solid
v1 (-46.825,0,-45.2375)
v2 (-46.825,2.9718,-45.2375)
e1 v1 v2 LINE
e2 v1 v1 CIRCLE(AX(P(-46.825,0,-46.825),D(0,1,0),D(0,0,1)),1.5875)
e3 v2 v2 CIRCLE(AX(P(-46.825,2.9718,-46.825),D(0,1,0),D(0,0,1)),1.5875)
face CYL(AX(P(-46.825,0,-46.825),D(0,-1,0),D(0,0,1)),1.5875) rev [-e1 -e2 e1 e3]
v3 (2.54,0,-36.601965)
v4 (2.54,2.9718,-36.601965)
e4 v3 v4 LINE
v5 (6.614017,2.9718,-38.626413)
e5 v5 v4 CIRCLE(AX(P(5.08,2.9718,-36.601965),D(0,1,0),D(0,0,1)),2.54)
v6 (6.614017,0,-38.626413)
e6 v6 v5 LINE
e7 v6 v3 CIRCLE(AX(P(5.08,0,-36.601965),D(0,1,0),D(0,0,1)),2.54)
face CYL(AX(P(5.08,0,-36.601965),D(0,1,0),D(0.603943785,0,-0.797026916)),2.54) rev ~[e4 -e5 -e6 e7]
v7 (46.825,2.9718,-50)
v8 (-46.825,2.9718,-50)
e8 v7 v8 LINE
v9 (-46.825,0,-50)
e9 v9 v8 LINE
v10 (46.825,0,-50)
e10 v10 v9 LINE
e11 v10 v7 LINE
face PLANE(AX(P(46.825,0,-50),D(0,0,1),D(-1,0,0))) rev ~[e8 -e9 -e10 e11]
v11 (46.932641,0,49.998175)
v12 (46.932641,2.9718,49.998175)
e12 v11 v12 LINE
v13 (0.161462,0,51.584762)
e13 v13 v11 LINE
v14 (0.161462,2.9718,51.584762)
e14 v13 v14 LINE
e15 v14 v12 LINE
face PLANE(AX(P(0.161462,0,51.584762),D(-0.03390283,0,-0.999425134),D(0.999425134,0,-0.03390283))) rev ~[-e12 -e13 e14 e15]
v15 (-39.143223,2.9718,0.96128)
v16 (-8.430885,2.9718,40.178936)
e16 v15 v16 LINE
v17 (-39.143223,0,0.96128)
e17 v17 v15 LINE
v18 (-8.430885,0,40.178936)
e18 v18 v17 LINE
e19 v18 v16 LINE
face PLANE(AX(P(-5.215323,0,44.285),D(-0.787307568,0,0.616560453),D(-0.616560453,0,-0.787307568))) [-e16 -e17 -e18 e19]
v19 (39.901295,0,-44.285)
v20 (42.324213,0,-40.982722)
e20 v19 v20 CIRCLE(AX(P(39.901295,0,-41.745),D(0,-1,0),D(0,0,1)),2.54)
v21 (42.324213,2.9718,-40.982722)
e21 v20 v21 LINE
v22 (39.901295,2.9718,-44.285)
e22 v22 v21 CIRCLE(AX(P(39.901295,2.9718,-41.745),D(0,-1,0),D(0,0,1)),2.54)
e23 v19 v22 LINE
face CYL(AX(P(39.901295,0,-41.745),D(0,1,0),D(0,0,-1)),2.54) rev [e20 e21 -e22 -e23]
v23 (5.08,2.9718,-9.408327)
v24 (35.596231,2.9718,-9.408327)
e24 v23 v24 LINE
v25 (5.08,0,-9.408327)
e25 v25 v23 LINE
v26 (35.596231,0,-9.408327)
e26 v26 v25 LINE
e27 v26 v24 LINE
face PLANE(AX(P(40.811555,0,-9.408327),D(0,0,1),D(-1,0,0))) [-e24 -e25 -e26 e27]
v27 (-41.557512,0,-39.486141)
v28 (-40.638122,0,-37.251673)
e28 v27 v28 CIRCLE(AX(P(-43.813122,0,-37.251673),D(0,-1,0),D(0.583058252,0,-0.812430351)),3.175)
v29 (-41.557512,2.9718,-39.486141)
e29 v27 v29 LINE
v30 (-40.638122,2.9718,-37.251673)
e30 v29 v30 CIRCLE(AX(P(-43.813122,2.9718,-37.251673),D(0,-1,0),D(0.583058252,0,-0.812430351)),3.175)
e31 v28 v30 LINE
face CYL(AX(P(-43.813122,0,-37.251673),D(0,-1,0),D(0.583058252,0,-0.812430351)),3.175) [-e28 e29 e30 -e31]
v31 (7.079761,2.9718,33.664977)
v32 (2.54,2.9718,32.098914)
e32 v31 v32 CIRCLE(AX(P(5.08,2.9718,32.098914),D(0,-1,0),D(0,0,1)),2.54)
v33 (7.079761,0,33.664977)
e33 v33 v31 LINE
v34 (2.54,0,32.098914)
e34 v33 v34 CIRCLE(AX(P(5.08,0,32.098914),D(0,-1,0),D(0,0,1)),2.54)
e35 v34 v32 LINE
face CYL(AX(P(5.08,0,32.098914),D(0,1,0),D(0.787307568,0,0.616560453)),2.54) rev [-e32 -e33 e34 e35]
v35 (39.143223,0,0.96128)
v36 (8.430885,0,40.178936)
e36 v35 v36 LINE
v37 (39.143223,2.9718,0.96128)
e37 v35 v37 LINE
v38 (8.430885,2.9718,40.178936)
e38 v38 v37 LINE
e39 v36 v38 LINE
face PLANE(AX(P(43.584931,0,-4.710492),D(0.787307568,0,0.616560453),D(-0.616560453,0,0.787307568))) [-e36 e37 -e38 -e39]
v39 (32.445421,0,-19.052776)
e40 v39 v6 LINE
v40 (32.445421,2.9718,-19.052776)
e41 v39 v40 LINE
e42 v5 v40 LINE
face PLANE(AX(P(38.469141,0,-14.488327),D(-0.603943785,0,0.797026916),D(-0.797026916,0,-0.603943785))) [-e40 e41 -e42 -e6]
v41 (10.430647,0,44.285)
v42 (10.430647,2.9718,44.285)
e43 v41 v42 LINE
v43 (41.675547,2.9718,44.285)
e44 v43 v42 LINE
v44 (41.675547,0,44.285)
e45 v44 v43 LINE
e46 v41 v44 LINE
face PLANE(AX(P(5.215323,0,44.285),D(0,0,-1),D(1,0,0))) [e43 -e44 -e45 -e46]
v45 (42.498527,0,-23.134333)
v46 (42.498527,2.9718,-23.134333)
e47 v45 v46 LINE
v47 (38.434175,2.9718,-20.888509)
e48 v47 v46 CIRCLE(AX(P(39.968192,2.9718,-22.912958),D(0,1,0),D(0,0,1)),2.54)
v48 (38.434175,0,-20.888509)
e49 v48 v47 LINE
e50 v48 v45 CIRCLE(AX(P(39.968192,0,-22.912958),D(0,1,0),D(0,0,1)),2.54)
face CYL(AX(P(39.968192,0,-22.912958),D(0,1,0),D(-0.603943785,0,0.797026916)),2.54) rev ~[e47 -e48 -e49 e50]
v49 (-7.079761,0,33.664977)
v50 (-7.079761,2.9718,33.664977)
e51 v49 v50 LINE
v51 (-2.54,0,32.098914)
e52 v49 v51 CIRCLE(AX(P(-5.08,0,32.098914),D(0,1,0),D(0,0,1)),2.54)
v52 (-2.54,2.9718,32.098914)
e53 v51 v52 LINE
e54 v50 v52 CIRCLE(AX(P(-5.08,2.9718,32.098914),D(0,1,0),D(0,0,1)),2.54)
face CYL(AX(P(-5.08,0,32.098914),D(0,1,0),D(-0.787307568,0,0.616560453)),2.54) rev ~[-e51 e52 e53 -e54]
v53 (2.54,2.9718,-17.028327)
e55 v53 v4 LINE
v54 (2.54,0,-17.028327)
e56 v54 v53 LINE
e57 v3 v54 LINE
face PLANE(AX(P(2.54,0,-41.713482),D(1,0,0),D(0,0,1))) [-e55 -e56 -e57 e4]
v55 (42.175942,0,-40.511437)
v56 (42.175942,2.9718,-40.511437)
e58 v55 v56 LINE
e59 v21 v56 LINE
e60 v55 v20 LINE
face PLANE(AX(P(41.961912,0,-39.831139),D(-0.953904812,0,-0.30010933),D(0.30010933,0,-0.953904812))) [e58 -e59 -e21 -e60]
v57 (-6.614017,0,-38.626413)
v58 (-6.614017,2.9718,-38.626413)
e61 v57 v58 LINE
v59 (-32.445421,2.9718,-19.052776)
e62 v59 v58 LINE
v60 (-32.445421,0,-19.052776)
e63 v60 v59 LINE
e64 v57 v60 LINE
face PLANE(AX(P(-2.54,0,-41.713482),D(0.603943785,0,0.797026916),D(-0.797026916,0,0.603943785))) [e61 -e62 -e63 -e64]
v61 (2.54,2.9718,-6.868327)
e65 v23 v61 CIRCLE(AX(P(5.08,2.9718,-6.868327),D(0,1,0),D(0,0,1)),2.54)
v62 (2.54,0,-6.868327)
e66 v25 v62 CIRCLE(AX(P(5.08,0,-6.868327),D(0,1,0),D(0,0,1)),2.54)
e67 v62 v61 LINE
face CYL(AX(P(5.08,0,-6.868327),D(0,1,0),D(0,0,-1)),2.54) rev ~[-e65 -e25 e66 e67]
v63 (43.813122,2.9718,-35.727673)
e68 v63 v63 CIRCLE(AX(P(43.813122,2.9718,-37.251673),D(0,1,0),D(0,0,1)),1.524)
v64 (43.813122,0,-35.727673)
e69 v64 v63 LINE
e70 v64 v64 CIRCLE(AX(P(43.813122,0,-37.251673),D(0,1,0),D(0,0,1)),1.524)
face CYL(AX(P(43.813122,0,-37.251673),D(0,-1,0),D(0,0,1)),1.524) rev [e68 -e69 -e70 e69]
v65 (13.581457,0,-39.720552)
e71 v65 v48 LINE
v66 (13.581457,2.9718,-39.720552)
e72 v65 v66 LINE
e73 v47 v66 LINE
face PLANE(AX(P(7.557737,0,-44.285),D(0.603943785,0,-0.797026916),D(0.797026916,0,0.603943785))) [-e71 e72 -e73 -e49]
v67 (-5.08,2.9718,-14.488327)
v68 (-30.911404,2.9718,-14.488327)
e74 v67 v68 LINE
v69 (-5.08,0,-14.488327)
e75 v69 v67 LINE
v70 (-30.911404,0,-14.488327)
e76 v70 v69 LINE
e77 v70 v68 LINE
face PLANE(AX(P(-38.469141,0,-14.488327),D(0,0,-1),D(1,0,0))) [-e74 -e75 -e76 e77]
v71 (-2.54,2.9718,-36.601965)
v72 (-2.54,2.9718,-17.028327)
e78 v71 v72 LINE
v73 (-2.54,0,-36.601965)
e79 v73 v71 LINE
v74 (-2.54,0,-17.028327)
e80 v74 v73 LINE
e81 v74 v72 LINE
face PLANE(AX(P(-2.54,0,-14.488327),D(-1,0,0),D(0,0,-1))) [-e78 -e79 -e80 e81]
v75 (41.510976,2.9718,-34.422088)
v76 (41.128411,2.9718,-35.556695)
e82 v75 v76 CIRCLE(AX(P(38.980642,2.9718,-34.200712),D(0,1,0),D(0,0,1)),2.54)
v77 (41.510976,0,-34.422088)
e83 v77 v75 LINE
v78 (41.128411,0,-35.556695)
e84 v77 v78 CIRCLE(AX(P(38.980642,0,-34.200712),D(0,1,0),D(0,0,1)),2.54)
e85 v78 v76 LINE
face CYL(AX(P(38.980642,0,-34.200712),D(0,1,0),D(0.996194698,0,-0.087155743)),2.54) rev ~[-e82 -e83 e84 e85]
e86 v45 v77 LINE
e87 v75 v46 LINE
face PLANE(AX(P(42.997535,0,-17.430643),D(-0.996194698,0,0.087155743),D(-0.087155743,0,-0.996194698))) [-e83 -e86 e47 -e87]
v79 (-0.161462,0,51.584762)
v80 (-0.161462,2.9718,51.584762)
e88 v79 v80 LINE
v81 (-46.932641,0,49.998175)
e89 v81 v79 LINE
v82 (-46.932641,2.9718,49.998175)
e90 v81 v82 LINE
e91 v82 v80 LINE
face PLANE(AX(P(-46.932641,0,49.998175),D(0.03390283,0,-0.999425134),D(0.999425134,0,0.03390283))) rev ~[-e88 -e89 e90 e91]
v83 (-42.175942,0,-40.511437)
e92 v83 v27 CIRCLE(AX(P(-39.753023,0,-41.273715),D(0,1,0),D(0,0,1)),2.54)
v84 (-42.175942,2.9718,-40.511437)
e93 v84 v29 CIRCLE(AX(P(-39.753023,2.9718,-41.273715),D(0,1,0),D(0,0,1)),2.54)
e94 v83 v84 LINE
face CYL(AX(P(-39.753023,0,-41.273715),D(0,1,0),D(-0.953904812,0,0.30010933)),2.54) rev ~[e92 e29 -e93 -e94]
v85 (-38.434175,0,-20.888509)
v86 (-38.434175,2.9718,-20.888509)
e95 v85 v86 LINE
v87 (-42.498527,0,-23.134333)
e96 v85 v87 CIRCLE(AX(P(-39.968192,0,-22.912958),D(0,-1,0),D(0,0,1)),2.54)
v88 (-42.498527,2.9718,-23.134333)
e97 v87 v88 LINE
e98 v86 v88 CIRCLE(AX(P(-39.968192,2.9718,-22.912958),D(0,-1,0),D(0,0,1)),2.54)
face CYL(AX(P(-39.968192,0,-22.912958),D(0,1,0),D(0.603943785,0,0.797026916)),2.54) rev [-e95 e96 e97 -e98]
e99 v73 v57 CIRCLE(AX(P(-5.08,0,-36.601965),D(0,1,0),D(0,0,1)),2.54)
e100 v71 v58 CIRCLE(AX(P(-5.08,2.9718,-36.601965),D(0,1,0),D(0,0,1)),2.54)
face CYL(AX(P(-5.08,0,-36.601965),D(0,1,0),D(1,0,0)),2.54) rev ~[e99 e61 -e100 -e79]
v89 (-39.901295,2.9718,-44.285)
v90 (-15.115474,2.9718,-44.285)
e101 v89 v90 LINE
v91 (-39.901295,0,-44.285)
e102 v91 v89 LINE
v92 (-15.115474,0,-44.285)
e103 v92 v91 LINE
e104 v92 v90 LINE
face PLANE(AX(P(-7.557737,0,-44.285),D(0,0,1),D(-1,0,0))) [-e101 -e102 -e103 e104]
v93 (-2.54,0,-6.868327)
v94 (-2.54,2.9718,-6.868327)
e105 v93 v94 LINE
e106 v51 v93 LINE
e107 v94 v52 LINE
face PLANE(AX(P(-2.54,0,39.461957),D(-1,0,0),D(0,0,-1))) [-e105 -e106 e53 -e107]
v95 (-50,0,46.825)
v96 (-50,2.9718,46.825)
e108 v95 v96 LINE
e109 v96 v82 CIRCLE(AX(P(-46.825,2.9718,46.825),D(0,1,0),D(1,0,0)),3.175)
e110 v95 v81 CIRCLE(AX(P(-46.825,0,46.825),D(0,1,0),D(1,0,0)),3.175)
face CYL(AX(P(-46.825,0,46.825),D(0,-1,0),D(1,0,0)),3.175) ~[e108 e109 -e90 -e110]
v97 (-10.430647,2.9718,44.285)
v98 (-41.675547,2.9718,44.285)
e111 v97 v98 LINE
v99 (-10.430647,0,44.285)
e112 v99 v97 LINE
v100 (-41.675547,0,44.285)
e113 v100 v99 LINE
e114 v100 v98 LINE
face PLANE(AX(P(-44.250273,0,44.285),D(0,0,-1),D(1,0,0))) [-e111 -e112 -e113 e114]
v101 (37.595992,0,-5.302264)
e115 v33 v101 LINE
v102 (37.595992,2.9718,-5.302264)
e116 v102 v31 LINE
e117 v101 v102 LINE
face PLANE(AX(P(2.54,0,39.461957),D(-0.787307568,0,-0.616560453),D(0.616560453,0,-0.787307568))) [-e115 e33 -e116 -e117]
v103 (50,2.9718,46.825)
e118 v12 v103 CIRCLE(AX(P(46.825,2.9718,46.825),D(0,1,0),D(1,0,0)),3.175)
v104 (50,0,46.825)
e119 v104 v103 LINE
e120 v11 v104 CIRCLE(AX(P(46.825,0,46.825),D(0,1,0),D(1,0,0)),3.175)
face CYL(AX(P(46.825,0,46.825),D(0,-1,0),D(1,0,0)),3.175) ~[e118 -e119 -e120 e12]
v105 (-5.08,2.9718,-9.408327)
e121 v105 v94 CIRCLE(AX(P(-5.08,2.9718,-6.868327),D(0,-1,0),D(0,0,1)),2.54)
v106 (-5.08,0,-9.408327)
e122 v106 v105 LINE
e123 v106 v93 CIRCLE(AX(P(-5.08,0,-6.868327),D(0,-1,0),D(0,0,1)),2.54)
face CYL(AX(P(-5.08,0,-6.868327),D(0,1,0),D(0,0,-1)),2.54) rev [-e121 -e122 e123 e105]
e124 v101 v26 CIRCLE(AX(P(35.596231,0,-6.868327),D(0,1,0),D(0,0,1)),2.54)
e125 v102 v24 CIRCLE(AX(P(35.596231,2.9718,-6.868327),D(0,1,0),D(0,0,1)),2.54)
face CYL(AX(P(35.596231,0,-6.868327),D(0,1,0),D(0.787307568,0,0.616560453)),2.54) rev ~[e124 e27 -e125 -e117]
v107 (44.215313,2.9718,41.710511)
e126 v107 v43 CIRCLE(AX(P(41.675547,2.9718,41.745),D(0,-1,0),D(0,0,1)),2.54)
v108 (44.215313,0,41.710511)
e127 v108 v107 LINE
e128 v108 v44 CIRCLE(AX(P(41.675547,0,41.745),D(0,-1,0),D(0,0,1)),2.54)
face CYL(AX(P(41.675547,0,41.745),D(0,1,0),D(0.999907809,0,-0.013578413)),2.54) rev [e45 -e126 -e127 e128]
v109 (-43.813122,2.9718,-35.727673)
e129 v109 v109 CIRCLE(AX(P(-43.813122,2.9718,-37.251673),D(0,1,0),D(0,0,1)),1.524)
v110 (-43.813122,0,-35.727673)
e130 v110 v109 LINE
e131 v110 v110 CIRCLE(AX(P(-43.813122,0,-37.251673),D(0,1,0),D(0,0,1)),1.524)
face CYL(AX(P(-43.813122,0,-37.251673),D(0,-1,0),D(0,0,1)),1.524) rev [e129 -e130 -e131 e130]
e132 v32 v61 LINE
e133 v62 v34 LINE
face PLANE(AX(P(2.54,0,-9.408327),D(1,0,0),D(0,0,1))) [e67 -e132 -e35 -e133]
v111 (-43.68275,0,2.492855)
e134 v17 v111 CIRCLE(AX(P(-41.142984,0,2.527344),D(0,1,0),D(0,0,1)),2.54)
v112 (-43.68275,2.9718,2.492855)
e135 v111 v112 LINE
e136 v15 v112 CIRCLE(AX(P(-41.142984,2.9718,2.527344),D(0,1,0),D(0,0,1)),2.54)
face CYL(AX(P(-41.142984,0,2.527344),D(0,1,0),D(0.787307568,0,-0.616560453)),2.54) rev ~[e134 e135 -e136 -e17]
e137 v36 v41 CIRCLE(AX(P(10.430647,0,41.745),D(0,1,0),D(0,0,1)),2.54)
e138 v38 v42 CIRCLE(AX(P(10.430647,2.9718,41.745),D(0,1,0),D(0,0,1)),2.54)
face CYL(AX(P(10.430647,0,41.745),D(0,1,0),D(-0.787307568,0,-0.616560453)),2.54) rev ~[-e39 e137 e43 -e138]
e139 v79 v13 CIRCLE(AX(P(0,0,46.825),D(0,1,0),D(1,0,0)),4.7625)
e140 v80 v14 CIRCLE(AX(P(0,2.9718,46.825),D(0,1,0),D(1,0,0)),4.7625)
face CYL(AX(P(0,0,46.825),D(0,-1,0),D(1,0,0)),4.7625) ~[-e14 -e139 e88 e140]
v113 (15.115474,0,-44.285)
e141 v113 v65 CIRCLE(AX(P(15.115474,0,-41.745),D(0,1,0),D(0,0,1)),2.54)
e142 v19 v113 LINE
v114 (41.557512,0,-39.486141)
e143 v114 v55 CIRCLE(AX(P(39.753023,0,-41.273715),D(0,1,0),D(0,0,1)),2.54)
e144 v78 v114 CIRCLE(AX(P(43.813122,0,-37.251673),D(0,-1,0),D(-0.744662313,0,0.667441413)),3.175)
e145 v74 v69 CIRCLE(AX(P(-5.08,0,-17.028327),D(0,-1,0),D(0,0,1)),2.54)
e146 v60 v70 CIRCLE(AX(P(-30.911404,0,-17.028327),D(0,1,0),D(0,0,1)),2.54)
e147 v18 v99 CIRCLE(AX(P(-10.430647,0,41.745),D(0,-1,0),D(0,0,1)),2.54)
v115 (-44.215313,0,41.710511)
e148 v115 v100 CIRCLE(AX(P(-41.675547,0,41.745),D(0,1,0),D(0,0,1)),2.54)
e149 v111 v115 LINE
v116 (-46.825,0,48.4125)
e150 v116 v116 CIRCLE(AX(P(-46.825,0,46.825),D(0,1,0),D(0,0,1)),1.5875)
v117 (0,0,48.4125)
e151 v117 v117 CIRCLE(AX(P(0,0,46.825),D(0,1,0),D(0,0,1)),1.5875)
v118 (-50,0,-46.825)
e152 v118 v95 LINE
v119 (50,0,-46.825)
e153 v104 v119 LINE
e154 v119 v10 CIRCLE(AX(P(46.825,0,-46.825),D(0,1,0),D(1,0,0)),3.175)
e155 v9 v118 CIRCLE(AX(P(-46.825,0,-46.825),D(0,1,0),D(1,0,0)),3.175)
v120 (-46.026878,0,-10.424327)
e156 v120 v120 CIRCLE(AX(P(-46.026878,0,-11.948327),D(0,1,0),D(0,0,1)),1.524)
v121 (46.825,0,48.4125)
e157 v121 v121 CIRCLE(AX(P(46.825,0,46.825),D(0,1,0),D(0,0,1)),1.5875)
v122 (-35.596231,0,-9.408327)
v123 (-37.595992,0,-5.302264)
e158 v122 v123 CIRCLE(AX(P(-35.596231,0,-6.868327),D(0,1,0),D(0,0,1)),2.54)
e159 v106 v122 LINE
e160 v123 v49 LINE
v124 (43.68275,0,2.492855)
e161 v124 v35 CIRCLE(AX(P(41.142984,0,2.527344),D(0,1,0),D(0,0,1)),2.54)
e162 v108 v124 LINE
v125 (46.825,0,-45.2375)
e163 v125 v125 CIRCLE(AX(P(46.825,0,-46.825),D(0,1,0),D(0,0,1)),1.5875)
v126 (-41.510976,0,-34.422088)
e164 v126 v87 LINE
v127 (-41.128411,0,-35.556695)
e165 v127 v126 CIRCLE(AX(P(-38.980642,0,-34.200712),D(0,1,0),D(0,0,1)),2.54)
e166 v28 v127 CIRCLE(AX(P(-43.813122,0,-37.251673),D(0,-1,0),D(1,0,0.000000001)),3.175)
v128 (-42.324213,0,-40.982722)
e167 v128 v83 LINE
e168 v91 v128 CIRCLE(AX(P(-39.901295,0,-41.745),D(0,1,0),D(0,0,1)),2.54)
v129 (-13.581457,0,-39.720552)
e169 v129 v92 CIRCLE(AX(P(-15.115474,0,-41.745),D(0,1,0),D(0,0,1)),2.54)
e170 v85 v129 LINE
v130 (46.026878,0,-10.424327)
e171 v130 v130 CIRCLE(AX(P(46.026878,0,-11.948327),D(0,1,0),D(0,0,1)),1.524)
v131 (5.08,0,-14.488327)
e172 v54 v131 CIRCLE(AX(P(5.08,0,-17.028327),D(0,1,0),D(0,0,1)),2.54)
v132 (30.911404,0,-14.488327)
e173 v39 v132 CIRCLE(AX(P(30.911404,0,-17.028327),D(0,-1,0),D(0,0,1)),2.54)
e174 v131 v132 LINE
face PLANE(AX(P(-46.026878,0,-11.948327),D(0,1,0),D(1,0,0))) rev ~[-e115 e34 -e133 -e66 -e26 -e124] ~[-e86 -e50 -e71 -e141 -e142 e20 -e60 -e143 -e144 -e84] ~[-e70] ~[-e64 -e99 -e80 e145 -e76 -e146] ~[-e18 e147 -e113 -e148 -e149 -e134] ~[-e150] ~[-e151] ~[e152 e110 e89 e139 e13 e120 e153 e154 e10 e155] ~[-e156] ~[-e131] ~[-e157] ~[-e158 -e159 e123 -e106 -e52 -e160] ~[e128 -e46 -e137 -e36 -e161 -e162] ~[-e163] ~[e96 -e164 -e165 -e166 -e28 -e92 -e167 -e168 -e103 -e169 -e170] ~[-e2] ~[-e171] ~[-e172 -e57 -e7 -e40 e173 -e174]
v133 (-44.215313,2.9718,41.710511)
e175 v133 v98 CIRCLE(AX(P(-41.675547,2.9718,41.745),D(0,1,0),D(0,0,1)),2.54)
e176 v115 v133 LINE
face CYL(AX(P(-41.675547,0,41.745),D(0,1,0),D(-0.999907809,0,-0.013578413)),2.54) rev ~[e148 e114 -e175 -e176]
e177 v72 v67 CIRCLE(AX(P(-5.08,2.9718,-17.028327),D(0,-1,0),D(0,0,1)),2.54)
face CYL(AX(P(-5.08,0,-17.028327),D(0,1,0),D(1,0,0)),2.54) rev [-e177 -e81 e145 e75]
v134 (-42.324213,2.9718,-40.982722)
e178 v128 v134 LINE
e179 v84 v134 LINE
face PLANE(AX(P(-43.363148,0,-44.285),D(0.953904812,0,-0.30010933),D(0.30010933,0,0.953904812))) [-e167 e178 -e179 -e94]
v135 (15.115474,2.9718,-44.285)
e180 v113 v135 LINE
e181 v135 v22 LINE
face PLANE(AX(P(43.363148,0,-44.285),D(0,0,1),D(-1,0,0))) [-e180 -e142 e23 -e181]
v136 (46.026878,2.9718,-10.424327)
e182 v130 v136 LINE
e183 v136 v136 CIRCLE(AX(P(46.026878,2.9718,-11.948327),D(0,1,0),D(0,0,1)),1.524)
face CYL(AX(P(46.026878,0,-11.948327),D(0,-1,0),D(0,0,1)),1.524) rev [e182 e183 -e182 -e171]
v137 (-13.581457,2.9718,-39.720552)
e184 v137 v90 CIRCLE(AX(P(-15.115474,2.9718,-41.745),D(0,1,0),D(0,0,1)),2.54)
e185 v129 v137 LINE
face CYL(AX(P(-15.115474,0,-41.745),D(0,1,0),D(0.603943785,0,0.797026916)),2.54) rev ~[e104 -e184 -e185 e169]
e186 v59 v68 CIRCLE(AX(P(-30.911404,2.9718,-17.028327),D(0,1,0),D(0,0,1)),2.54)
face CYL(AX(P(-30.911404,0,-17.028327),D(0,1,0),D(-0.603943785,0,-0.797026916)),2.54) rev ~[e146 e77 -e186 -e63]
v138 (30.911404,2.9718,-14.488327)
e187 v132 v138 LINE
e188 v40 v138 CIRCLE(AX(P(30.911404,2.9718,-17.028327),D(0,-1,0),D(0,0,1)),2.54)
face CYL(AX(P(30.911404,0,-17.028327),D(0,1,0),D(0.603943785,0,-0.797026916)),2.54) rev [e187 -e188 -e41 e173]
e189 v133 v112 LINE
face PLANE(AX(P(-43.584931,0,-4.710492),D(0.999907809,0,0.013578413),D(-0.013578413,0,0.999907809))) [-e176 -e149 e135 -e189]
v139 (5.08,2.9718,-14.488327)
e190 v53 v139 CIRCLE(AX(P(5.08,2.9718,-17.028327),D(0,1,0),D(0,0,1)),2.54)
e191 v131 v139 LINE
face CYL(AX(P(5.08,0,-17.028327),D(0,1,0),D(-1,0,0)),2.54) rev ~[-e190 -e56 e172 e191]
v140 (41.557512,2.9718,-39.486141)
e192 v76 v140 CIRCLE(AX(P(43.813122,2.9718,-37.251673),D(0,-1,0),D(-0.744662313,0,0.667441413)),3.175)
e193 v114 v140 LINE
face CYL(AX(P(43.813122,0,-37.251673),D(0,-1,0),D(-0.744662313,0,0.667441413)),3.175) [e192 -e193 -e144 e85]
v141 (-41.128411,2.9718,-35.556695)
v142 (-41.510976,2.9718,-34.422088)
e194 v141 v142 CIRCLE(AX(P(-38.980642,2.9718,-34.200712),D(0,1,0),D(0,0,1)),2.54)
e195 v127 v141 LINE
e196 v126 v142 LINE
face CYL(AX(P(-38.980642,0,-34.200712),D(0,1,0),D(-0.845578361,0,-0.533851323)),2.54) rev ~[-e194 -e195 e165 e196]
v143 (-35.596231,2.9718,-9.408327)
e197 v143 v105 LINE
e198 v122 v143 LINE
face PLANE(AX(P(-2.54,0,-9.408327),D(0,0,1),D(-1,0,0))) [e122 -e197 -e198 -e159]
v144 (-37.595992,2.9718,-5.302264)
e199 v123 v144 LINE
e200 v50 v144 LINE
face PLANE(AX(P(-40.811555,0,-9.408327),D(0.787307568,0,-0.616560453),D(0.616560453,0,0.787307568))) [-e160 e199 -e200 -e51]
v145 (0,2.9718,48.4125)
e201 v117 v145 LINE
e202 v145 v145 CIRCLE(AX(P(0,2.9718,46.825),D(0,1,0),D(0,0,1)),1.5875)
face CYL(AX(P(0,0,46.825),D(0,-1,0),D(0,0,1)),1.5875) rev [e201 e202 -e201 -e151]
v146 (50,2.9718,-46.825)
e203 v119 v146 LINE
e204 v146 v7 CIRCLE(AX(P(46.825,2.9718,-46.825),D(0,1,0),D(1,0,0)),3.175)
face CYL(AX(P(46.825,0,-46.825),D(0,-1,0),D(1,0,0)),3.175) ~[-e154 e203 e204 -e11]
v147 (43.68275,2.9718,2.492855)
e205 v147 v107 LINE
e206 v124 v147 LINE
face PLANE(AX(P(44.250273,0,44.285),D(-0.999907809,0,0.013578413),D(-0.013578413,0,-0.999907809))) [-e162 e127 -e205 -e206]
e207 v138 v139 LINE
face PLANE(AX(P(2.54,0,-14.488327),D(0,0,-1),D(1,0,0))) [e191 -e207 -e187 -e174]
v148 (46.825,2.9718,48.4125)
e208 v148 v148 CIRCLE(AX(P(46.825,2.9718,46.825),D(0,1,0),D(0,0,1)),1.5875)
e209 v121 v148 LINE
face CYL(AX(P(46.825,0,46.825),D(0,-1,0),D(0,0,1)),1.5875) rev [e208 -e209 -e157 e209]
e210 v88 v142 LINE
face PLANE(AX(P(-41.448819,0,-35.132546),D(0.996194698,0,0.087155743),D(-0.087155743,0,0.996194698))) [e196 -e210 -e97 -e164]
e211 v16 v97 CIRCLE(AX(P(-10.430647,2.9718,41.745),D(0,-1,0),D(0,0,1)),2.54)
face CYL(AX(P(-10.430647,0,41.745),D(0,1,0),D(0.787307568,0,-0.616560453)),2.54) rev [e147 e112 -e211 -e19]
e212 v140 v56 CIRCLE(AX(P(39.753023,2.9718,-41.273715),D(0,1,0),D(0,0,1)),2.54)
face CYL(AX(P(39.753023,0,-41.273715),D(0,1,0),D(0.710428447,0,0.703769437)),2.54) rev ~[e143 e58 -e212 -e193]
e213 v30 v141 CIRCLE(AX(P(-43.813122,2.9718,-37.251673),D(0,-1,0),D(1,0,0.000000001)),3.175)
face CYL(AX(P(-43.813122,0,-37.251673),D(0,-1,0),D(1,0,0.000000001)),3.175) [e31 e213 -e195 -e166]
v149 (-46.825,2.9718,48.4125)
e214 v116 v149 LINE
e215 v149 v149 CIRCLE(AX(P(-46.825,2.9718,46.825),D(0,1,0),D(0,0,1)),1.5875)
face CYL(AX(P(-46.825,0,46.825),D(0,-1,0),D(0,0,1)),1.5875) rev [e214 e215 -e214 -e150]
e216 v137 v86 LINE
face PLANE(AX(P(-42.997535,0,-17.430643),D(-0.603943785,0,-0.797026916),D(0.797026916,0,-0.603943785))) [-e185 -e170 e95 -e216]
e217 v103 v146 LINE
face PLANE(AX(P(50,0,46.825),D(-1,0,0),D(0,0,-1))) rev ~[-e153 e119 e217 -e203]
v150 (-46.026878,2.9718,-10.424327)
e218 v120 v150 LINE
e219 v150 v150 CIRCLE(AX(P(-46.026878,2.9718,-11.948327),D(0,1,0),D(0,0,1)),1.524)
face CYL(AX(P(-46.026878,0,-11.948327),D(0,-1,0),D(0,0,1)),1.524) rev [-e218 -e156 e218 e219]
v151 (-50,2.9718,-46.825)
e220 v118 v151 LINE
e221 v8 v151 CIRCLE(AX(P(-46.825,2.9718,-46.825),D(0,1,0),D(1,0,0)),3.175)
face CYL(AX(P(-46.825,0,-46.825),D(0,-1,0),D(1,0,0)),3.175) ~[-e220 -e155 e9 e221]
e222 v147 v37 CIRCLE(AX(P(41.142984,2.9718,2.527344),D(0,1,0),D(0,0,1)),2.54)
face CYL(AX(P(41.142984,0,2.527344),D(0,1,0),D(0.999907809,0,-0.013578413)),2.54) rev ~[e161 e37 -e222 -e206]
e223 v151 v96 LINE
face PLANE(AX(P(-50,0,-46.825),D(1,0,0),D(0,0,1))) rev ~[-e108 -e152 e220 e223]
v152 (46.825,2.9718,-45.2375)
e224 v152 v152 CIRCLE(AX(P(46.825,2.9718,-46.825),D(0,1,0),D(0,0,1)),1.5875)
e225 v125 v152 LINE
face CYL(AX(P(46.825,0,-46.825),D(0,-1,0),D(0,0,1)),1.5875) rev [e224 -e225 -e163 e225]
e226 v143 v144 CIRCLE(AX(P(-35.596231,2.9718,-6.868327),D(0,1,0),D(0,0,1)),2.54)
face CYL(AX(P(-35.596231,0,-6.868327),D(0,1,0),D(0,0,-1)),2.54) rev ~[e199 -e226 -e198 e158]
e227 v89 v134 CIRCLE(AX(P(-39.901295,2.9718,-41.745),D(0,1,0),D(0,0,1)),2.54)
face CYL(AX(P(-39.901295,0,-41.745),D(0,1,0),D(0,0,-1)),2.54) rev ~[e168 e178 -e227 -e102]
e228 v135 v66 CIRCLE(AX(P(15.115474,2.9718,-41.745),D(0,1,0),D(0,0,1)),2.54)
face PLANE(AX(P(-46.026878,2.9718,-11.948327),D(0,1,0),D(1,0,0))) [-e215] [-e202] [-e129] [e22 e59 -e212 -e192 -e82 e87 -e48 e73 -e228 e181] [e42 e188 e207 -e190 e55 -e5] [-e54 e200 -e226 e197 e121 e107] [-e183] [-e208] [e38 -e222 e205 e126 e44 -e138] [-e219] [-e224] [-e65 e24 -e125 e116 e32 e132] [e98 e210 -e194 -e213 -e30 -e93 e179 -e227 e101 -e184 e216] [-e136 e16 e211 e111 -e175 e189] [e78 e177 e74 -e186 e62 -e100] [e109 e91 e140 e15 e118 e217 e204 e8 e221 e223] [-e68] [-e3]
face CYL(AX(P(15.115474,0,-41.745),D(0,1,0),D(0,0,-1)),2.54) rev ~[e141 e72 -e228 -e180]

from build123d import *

# Parameters (mm, degrees)
SKETCH2_R           = 3.175
SKETCH2_R_2         = 1.5875
SKETCH2_R_3         = 4.7625
SKETCH2_R_4         = 1.524
BOSS_EXTRUDE2_DEPTH = 2.9718
CUT_EXTRUDE1_DEPTH  = 72.903419609
FILLET1_R           = 2.54


with BuildPart() as part:
    # Sketch2 → Boss-Extrude2 (new body)
    # profile 1 of 10: a face of its own
    with BuildSketch(Plane(origin=(0, 0, 0), x_dir=(1, 0, 0), z_dir=(0, 1, 0))):
        with BuildLine():
            ThreePointArc((4.7625, -46.825), (3.424205755, -50.135018308), (0.161462226, -51.5847622))
            Line((0.161462226, -51.5847622), (46.932641484, -49.9981748))
            ThreePointArc((46.932641484, -49.9981748), (44.542196163, -44.618321128), (50, -46.825))
            Line((50, -46.825), (50, 46.825))
            ThreePointArc((50, 46.825), (44.57993597, 44.57993597), (46.825, 50))
            Line((46.825, 50), (-46.825, 50))
            ThreePointArc((-46.825, 50), (-44.57993597, 49.07006403), (-43.65, 46.825))
            ThreePointArc((-43.65, 46.825), (-46.825, 43.65), (-50, 46.825))
            Line((-50, 46.825), (-50, -46.825))
            ThreePointArc((-50, -46.825), (-46.825, -43.65), (-43.65, -46.825))
            ThreePointArc((-43.65, -46.825), (-44.618321128, -49.107803837), (-46.932641484, -49.9981748))
            Line((-46.932641484, -49.9981748), (-0.161462226, -51.5847622))
            ThreePointArc((-0.161462226, -51.5847622), (-3.310018308, -43.400794245), (4.7625, -46.825))
        make_face()
        with Locations((-46.026877933, 11.948327334)):
            Circle(SKETCH2_R, mode=Mode.SUBTRACT)
        with Locations((-43.813122067, 37.251672666)):
            Circle(SKETCH2_R, mode=Mode.SUBTRACT)
        with Locations((46.026877933, 11.948327334)):
            Circle(SKETCH2_R, mode=Mode.SUBTRACT)
        with Locations((43.813122067, 37.251672666)):
            Circle(SKETCH2_R, mode=Mode.SUBTRACT)
    # profile 2 of 10: a face of its own
    with BuildSketch(Plane(origin=(0, 0, 0), x_dir=(1, 0, 0), z_dir=(0, 1, 0))):
        with Locations((-46.825, -46.825)):
            Circle(SKETCH2_R)
        with Locations(Location((-46.825, -46.825, 0), (0, 0, 270))):
            Circle(SKETCH2_R_2, mode=Mode.SUBTRACT)
    # profile 3 of 10: a face of its own
    with BuildSketch(Plane(origin=(0, 0, 0), x_dir=(1, 0, 0), z_dir=(0, 1, 0))):
        with Locations((0, -46.825)):
            Circle(SKETCH2_R_3)
        with Locations(Location((0, -46.825, 0), (0, 0, 270))):
            Circle(SKETCH2_R_2, mode=Mode.SUBTRACT)
    # profile 4 of 10: a face of its own
    with BuildSketch(Plane(origin=(0, 0, 0), x_dir=(1, 0, 0), z_dir=(0, 1, 0))):
        with Locations((46.825, -46.825)):
            Circle(SKETCH2_R)
        with Locations(Location((46.825, -46.825, 0), (0, 0, 270))):
            Circle(SKETCH2_R_2, mode=Mode.SUBTRACT)
    # profile 5 of 10: a face of its own
    with BuildSketch(Plane(origin=(0, 0, 0), x_dir=(1, 0, 0), z_dir=(0, 1, 0))):
        with Locations((46.026877933, 11.948327334)):
            Circle(SKETCH2_R)
        with Locations(Location((46.026877933, 11.948327334, 0), (0, 0, 270))):
            Circle(SKETCH2_R_4, mode=Mode.SUBTRACT)
    # profile 6 of 10: a face of its own
    with BuildSketch(Plane(origin=(0, 0, 0), x_dir=(1, 0, 0), z_dir=(0, 1, 0))):
        with Locations((43.813122067, 37.251672666)):
            Circle(SKETCH2_R)
        with Locations(Location((43.813122067, 37.251672666, 0), (0, 0, 270))):
            Circle(SKETCH2_R_4, mode=Mode.SUBTRACT)
    # profile 7 of 10: a face of its own
    with BuildSketch(Plane(origin=(0, 0, 0), x_dir=(1, 0, 0), z_dir=(0, 1, 0))):
        with Locations((46.825, 46.825)):
            Circle(SKETCH2_R)
        with Locations(Location((46.825, 46.825, 0), (0, 0, 270))):
            Circle(SKETCH2_R_2, mode=Mode.SUBTRACT)
    # profile 8 of 10: a face of its own
    with BuildSketch(Plane(origin=(0, 0, 0), x_dir=(1, 0, 0), z_dir=(0, 1, 0))):
        with Locations((-43.813122067, 37.251672666)):
            Circle(SKETCH2_R)
        with Locations(Location((-43.813122067, 37.251672666, 0), (0, 0, 270))):
            Circle(SKETCH2_R_4, mode=Mode.SUBTRACT)
    # profile 9 of 10: a face of its own
    with BuildSketch(Plane(origin=(0, 0, 0), x_dir=(1, 0, 0), z_dir=(0, 1, 0))):
        with Locations((-46.825, 46.825)):
            Circle(SKETCH2_R)
        with Locations(Location((-46.825, 46.825, 0), (0, 0, 270))):
            Circle(SKETCH2_R_2, mode=Mode.SUBTRACT)
    # profile 10 of 10: a face of its own
    with BuildSketch(Plane(origin=(0, 0, 0), x_dir=(1, 0, 0), z_dir=(0, 1, 0))):
        with Locations((-46.026877933, 11.948327334)):
            Circle(SKETCH2_R)
        with Locations(Location((-46.026877933, 11.948327334, 0), (0, 0, 270))):
            Circle(SKETCH2_R_4, mode=Mode.SUBTRACT)
    extrude(amount=BOSS_EXTRUDE2_DEPTH)

    # Sketch3 → Cut-Extrude1 (cut, through all)
    with BuildSketch(Plane(origin=(0, 0, 0), x_dir=(1, 0, 0), z_dir=(0, 1, 0))):
        Polygon((-5.215323358, -44.285), (-43.584931126, 4.710491728), (-44.250273466, -44.285), align=None)
        Polygon((-2.54, 9.408327334), (-40.811554575, 9.408327334), (-2.54, -39.461956848), align=None)
        Polygon((2.54, -39.461956848), (40.811554575, 9.408327334), (2.54, 9.408327334), align=None)
        Polygon((44.250273466, -44.285), (43.584931126, 4.710491728), (5.215323358, -44.285), align=None)
        with BuildLine():
            Line((43.363147562, 44.285), (7.557737131, 44.285))
            Line((7.557737131, 44.285), (42.997535117, 17.43064252))
            Line((42.997535117, 17.43064252), (41.448819224, 35.132546179))
            ThreePointArc((41.448819224, 35.132546179), (40.65688527, 37.596338128), (41.961912119, 39.831139031))
            Line((41.961912119, 39.831139031), (43.363147562, 44.285))
        make_face()
        Polygon((38.469140802, 14.488327334), (2.54, 41.713482269), (2.54, 14.488327334), align=None)
        Polygon((-2.54, 14.488327334), (-2.54, 41.713482269), (-38.469140802, 14.488327334), align=None)
        with BuildLine():
            Line((-42.997535117, 17.43064252), (-7.557737131, 44.285))
            Line((-7.557737131, 44.285), (-43.363147562, 44.285))
            Line((-43.363147562, 44.285), (-41.961912119, 39.831139031))
            ThreePointArc((-41.961912119, 39.831139031), (-40.988390524, 38.70133356), (-40.638122067, 37.251672666))
            ThreePointArc((-40.638122067, 37.251672666), (-40.847714294, 36.117220491), (-41.448819224, 35.132546179))
            Line((-41.448819224, 35.132546179), (-42.997535117, 17.43064252))
        make_face()
    extrude(amount=CUT_EXTRUDE1_DEPTH, mode=Mode.SUBTRACT)

    # Fillet1
    fillet1_edges = [part.edges().sort_by_distance(p)[0] for p in [
        (41.448819224, 1.4859, -35.132546179),
        (41.961912119, 1.4859, -39.831139031),
        (43.363147562, 1.4859, -44.285),
        (7.557737131, 1.4859, -44.285),
        (42.997535117, 1.4859, -17.43064252),
        (5.215323358, 1.4859, 44.285),
        (44.250273466, 1.4859, 44.285),
        (43.584931126, 1.4859, -4.710491728),
        (40.811554575, 1.4859, -9.408327334),
        (2.54, 1.4859, -9.408327334),
        (2.54, 1.4859, 39.461956848),
        (-2.54, 1.4859, 39.461956848),
        (-2.54, 1.4859, -9.408327334),
        (-40.811554575, 1.4859, -9.408327334),
        (-41.961912119, 1.4859, -39.831139031),
        (-41.448819224, 1.4859, -35.132546179),
        (-42.997535117, 1.4859, -17.43064252),
        (-7.557737131, 1.4859, -44.285),
        (-43.363147562, 1.4859, -44.285),
        (-2.54, 1.4859, -41.713482269),
        (-38.469140802, 1.4859, -14.488327334),
        (-2.54, 1.4859, -14.488327334),
        (2.54, 1.4859, -41.713482269),
        (2.54, 1.4859, -14.488327334),
        (38.469140802, 1.4859, -14.488327334),
        (-43.584931126, 1.4859, -4.710491728),
        (-44.250273466, 1.4859, 44.285),
        (-5.215323358, 1.4859, 44.285),
    ]]
    fillet(fillet1_edges, radius=FILLET1_R)


solid = part.part
